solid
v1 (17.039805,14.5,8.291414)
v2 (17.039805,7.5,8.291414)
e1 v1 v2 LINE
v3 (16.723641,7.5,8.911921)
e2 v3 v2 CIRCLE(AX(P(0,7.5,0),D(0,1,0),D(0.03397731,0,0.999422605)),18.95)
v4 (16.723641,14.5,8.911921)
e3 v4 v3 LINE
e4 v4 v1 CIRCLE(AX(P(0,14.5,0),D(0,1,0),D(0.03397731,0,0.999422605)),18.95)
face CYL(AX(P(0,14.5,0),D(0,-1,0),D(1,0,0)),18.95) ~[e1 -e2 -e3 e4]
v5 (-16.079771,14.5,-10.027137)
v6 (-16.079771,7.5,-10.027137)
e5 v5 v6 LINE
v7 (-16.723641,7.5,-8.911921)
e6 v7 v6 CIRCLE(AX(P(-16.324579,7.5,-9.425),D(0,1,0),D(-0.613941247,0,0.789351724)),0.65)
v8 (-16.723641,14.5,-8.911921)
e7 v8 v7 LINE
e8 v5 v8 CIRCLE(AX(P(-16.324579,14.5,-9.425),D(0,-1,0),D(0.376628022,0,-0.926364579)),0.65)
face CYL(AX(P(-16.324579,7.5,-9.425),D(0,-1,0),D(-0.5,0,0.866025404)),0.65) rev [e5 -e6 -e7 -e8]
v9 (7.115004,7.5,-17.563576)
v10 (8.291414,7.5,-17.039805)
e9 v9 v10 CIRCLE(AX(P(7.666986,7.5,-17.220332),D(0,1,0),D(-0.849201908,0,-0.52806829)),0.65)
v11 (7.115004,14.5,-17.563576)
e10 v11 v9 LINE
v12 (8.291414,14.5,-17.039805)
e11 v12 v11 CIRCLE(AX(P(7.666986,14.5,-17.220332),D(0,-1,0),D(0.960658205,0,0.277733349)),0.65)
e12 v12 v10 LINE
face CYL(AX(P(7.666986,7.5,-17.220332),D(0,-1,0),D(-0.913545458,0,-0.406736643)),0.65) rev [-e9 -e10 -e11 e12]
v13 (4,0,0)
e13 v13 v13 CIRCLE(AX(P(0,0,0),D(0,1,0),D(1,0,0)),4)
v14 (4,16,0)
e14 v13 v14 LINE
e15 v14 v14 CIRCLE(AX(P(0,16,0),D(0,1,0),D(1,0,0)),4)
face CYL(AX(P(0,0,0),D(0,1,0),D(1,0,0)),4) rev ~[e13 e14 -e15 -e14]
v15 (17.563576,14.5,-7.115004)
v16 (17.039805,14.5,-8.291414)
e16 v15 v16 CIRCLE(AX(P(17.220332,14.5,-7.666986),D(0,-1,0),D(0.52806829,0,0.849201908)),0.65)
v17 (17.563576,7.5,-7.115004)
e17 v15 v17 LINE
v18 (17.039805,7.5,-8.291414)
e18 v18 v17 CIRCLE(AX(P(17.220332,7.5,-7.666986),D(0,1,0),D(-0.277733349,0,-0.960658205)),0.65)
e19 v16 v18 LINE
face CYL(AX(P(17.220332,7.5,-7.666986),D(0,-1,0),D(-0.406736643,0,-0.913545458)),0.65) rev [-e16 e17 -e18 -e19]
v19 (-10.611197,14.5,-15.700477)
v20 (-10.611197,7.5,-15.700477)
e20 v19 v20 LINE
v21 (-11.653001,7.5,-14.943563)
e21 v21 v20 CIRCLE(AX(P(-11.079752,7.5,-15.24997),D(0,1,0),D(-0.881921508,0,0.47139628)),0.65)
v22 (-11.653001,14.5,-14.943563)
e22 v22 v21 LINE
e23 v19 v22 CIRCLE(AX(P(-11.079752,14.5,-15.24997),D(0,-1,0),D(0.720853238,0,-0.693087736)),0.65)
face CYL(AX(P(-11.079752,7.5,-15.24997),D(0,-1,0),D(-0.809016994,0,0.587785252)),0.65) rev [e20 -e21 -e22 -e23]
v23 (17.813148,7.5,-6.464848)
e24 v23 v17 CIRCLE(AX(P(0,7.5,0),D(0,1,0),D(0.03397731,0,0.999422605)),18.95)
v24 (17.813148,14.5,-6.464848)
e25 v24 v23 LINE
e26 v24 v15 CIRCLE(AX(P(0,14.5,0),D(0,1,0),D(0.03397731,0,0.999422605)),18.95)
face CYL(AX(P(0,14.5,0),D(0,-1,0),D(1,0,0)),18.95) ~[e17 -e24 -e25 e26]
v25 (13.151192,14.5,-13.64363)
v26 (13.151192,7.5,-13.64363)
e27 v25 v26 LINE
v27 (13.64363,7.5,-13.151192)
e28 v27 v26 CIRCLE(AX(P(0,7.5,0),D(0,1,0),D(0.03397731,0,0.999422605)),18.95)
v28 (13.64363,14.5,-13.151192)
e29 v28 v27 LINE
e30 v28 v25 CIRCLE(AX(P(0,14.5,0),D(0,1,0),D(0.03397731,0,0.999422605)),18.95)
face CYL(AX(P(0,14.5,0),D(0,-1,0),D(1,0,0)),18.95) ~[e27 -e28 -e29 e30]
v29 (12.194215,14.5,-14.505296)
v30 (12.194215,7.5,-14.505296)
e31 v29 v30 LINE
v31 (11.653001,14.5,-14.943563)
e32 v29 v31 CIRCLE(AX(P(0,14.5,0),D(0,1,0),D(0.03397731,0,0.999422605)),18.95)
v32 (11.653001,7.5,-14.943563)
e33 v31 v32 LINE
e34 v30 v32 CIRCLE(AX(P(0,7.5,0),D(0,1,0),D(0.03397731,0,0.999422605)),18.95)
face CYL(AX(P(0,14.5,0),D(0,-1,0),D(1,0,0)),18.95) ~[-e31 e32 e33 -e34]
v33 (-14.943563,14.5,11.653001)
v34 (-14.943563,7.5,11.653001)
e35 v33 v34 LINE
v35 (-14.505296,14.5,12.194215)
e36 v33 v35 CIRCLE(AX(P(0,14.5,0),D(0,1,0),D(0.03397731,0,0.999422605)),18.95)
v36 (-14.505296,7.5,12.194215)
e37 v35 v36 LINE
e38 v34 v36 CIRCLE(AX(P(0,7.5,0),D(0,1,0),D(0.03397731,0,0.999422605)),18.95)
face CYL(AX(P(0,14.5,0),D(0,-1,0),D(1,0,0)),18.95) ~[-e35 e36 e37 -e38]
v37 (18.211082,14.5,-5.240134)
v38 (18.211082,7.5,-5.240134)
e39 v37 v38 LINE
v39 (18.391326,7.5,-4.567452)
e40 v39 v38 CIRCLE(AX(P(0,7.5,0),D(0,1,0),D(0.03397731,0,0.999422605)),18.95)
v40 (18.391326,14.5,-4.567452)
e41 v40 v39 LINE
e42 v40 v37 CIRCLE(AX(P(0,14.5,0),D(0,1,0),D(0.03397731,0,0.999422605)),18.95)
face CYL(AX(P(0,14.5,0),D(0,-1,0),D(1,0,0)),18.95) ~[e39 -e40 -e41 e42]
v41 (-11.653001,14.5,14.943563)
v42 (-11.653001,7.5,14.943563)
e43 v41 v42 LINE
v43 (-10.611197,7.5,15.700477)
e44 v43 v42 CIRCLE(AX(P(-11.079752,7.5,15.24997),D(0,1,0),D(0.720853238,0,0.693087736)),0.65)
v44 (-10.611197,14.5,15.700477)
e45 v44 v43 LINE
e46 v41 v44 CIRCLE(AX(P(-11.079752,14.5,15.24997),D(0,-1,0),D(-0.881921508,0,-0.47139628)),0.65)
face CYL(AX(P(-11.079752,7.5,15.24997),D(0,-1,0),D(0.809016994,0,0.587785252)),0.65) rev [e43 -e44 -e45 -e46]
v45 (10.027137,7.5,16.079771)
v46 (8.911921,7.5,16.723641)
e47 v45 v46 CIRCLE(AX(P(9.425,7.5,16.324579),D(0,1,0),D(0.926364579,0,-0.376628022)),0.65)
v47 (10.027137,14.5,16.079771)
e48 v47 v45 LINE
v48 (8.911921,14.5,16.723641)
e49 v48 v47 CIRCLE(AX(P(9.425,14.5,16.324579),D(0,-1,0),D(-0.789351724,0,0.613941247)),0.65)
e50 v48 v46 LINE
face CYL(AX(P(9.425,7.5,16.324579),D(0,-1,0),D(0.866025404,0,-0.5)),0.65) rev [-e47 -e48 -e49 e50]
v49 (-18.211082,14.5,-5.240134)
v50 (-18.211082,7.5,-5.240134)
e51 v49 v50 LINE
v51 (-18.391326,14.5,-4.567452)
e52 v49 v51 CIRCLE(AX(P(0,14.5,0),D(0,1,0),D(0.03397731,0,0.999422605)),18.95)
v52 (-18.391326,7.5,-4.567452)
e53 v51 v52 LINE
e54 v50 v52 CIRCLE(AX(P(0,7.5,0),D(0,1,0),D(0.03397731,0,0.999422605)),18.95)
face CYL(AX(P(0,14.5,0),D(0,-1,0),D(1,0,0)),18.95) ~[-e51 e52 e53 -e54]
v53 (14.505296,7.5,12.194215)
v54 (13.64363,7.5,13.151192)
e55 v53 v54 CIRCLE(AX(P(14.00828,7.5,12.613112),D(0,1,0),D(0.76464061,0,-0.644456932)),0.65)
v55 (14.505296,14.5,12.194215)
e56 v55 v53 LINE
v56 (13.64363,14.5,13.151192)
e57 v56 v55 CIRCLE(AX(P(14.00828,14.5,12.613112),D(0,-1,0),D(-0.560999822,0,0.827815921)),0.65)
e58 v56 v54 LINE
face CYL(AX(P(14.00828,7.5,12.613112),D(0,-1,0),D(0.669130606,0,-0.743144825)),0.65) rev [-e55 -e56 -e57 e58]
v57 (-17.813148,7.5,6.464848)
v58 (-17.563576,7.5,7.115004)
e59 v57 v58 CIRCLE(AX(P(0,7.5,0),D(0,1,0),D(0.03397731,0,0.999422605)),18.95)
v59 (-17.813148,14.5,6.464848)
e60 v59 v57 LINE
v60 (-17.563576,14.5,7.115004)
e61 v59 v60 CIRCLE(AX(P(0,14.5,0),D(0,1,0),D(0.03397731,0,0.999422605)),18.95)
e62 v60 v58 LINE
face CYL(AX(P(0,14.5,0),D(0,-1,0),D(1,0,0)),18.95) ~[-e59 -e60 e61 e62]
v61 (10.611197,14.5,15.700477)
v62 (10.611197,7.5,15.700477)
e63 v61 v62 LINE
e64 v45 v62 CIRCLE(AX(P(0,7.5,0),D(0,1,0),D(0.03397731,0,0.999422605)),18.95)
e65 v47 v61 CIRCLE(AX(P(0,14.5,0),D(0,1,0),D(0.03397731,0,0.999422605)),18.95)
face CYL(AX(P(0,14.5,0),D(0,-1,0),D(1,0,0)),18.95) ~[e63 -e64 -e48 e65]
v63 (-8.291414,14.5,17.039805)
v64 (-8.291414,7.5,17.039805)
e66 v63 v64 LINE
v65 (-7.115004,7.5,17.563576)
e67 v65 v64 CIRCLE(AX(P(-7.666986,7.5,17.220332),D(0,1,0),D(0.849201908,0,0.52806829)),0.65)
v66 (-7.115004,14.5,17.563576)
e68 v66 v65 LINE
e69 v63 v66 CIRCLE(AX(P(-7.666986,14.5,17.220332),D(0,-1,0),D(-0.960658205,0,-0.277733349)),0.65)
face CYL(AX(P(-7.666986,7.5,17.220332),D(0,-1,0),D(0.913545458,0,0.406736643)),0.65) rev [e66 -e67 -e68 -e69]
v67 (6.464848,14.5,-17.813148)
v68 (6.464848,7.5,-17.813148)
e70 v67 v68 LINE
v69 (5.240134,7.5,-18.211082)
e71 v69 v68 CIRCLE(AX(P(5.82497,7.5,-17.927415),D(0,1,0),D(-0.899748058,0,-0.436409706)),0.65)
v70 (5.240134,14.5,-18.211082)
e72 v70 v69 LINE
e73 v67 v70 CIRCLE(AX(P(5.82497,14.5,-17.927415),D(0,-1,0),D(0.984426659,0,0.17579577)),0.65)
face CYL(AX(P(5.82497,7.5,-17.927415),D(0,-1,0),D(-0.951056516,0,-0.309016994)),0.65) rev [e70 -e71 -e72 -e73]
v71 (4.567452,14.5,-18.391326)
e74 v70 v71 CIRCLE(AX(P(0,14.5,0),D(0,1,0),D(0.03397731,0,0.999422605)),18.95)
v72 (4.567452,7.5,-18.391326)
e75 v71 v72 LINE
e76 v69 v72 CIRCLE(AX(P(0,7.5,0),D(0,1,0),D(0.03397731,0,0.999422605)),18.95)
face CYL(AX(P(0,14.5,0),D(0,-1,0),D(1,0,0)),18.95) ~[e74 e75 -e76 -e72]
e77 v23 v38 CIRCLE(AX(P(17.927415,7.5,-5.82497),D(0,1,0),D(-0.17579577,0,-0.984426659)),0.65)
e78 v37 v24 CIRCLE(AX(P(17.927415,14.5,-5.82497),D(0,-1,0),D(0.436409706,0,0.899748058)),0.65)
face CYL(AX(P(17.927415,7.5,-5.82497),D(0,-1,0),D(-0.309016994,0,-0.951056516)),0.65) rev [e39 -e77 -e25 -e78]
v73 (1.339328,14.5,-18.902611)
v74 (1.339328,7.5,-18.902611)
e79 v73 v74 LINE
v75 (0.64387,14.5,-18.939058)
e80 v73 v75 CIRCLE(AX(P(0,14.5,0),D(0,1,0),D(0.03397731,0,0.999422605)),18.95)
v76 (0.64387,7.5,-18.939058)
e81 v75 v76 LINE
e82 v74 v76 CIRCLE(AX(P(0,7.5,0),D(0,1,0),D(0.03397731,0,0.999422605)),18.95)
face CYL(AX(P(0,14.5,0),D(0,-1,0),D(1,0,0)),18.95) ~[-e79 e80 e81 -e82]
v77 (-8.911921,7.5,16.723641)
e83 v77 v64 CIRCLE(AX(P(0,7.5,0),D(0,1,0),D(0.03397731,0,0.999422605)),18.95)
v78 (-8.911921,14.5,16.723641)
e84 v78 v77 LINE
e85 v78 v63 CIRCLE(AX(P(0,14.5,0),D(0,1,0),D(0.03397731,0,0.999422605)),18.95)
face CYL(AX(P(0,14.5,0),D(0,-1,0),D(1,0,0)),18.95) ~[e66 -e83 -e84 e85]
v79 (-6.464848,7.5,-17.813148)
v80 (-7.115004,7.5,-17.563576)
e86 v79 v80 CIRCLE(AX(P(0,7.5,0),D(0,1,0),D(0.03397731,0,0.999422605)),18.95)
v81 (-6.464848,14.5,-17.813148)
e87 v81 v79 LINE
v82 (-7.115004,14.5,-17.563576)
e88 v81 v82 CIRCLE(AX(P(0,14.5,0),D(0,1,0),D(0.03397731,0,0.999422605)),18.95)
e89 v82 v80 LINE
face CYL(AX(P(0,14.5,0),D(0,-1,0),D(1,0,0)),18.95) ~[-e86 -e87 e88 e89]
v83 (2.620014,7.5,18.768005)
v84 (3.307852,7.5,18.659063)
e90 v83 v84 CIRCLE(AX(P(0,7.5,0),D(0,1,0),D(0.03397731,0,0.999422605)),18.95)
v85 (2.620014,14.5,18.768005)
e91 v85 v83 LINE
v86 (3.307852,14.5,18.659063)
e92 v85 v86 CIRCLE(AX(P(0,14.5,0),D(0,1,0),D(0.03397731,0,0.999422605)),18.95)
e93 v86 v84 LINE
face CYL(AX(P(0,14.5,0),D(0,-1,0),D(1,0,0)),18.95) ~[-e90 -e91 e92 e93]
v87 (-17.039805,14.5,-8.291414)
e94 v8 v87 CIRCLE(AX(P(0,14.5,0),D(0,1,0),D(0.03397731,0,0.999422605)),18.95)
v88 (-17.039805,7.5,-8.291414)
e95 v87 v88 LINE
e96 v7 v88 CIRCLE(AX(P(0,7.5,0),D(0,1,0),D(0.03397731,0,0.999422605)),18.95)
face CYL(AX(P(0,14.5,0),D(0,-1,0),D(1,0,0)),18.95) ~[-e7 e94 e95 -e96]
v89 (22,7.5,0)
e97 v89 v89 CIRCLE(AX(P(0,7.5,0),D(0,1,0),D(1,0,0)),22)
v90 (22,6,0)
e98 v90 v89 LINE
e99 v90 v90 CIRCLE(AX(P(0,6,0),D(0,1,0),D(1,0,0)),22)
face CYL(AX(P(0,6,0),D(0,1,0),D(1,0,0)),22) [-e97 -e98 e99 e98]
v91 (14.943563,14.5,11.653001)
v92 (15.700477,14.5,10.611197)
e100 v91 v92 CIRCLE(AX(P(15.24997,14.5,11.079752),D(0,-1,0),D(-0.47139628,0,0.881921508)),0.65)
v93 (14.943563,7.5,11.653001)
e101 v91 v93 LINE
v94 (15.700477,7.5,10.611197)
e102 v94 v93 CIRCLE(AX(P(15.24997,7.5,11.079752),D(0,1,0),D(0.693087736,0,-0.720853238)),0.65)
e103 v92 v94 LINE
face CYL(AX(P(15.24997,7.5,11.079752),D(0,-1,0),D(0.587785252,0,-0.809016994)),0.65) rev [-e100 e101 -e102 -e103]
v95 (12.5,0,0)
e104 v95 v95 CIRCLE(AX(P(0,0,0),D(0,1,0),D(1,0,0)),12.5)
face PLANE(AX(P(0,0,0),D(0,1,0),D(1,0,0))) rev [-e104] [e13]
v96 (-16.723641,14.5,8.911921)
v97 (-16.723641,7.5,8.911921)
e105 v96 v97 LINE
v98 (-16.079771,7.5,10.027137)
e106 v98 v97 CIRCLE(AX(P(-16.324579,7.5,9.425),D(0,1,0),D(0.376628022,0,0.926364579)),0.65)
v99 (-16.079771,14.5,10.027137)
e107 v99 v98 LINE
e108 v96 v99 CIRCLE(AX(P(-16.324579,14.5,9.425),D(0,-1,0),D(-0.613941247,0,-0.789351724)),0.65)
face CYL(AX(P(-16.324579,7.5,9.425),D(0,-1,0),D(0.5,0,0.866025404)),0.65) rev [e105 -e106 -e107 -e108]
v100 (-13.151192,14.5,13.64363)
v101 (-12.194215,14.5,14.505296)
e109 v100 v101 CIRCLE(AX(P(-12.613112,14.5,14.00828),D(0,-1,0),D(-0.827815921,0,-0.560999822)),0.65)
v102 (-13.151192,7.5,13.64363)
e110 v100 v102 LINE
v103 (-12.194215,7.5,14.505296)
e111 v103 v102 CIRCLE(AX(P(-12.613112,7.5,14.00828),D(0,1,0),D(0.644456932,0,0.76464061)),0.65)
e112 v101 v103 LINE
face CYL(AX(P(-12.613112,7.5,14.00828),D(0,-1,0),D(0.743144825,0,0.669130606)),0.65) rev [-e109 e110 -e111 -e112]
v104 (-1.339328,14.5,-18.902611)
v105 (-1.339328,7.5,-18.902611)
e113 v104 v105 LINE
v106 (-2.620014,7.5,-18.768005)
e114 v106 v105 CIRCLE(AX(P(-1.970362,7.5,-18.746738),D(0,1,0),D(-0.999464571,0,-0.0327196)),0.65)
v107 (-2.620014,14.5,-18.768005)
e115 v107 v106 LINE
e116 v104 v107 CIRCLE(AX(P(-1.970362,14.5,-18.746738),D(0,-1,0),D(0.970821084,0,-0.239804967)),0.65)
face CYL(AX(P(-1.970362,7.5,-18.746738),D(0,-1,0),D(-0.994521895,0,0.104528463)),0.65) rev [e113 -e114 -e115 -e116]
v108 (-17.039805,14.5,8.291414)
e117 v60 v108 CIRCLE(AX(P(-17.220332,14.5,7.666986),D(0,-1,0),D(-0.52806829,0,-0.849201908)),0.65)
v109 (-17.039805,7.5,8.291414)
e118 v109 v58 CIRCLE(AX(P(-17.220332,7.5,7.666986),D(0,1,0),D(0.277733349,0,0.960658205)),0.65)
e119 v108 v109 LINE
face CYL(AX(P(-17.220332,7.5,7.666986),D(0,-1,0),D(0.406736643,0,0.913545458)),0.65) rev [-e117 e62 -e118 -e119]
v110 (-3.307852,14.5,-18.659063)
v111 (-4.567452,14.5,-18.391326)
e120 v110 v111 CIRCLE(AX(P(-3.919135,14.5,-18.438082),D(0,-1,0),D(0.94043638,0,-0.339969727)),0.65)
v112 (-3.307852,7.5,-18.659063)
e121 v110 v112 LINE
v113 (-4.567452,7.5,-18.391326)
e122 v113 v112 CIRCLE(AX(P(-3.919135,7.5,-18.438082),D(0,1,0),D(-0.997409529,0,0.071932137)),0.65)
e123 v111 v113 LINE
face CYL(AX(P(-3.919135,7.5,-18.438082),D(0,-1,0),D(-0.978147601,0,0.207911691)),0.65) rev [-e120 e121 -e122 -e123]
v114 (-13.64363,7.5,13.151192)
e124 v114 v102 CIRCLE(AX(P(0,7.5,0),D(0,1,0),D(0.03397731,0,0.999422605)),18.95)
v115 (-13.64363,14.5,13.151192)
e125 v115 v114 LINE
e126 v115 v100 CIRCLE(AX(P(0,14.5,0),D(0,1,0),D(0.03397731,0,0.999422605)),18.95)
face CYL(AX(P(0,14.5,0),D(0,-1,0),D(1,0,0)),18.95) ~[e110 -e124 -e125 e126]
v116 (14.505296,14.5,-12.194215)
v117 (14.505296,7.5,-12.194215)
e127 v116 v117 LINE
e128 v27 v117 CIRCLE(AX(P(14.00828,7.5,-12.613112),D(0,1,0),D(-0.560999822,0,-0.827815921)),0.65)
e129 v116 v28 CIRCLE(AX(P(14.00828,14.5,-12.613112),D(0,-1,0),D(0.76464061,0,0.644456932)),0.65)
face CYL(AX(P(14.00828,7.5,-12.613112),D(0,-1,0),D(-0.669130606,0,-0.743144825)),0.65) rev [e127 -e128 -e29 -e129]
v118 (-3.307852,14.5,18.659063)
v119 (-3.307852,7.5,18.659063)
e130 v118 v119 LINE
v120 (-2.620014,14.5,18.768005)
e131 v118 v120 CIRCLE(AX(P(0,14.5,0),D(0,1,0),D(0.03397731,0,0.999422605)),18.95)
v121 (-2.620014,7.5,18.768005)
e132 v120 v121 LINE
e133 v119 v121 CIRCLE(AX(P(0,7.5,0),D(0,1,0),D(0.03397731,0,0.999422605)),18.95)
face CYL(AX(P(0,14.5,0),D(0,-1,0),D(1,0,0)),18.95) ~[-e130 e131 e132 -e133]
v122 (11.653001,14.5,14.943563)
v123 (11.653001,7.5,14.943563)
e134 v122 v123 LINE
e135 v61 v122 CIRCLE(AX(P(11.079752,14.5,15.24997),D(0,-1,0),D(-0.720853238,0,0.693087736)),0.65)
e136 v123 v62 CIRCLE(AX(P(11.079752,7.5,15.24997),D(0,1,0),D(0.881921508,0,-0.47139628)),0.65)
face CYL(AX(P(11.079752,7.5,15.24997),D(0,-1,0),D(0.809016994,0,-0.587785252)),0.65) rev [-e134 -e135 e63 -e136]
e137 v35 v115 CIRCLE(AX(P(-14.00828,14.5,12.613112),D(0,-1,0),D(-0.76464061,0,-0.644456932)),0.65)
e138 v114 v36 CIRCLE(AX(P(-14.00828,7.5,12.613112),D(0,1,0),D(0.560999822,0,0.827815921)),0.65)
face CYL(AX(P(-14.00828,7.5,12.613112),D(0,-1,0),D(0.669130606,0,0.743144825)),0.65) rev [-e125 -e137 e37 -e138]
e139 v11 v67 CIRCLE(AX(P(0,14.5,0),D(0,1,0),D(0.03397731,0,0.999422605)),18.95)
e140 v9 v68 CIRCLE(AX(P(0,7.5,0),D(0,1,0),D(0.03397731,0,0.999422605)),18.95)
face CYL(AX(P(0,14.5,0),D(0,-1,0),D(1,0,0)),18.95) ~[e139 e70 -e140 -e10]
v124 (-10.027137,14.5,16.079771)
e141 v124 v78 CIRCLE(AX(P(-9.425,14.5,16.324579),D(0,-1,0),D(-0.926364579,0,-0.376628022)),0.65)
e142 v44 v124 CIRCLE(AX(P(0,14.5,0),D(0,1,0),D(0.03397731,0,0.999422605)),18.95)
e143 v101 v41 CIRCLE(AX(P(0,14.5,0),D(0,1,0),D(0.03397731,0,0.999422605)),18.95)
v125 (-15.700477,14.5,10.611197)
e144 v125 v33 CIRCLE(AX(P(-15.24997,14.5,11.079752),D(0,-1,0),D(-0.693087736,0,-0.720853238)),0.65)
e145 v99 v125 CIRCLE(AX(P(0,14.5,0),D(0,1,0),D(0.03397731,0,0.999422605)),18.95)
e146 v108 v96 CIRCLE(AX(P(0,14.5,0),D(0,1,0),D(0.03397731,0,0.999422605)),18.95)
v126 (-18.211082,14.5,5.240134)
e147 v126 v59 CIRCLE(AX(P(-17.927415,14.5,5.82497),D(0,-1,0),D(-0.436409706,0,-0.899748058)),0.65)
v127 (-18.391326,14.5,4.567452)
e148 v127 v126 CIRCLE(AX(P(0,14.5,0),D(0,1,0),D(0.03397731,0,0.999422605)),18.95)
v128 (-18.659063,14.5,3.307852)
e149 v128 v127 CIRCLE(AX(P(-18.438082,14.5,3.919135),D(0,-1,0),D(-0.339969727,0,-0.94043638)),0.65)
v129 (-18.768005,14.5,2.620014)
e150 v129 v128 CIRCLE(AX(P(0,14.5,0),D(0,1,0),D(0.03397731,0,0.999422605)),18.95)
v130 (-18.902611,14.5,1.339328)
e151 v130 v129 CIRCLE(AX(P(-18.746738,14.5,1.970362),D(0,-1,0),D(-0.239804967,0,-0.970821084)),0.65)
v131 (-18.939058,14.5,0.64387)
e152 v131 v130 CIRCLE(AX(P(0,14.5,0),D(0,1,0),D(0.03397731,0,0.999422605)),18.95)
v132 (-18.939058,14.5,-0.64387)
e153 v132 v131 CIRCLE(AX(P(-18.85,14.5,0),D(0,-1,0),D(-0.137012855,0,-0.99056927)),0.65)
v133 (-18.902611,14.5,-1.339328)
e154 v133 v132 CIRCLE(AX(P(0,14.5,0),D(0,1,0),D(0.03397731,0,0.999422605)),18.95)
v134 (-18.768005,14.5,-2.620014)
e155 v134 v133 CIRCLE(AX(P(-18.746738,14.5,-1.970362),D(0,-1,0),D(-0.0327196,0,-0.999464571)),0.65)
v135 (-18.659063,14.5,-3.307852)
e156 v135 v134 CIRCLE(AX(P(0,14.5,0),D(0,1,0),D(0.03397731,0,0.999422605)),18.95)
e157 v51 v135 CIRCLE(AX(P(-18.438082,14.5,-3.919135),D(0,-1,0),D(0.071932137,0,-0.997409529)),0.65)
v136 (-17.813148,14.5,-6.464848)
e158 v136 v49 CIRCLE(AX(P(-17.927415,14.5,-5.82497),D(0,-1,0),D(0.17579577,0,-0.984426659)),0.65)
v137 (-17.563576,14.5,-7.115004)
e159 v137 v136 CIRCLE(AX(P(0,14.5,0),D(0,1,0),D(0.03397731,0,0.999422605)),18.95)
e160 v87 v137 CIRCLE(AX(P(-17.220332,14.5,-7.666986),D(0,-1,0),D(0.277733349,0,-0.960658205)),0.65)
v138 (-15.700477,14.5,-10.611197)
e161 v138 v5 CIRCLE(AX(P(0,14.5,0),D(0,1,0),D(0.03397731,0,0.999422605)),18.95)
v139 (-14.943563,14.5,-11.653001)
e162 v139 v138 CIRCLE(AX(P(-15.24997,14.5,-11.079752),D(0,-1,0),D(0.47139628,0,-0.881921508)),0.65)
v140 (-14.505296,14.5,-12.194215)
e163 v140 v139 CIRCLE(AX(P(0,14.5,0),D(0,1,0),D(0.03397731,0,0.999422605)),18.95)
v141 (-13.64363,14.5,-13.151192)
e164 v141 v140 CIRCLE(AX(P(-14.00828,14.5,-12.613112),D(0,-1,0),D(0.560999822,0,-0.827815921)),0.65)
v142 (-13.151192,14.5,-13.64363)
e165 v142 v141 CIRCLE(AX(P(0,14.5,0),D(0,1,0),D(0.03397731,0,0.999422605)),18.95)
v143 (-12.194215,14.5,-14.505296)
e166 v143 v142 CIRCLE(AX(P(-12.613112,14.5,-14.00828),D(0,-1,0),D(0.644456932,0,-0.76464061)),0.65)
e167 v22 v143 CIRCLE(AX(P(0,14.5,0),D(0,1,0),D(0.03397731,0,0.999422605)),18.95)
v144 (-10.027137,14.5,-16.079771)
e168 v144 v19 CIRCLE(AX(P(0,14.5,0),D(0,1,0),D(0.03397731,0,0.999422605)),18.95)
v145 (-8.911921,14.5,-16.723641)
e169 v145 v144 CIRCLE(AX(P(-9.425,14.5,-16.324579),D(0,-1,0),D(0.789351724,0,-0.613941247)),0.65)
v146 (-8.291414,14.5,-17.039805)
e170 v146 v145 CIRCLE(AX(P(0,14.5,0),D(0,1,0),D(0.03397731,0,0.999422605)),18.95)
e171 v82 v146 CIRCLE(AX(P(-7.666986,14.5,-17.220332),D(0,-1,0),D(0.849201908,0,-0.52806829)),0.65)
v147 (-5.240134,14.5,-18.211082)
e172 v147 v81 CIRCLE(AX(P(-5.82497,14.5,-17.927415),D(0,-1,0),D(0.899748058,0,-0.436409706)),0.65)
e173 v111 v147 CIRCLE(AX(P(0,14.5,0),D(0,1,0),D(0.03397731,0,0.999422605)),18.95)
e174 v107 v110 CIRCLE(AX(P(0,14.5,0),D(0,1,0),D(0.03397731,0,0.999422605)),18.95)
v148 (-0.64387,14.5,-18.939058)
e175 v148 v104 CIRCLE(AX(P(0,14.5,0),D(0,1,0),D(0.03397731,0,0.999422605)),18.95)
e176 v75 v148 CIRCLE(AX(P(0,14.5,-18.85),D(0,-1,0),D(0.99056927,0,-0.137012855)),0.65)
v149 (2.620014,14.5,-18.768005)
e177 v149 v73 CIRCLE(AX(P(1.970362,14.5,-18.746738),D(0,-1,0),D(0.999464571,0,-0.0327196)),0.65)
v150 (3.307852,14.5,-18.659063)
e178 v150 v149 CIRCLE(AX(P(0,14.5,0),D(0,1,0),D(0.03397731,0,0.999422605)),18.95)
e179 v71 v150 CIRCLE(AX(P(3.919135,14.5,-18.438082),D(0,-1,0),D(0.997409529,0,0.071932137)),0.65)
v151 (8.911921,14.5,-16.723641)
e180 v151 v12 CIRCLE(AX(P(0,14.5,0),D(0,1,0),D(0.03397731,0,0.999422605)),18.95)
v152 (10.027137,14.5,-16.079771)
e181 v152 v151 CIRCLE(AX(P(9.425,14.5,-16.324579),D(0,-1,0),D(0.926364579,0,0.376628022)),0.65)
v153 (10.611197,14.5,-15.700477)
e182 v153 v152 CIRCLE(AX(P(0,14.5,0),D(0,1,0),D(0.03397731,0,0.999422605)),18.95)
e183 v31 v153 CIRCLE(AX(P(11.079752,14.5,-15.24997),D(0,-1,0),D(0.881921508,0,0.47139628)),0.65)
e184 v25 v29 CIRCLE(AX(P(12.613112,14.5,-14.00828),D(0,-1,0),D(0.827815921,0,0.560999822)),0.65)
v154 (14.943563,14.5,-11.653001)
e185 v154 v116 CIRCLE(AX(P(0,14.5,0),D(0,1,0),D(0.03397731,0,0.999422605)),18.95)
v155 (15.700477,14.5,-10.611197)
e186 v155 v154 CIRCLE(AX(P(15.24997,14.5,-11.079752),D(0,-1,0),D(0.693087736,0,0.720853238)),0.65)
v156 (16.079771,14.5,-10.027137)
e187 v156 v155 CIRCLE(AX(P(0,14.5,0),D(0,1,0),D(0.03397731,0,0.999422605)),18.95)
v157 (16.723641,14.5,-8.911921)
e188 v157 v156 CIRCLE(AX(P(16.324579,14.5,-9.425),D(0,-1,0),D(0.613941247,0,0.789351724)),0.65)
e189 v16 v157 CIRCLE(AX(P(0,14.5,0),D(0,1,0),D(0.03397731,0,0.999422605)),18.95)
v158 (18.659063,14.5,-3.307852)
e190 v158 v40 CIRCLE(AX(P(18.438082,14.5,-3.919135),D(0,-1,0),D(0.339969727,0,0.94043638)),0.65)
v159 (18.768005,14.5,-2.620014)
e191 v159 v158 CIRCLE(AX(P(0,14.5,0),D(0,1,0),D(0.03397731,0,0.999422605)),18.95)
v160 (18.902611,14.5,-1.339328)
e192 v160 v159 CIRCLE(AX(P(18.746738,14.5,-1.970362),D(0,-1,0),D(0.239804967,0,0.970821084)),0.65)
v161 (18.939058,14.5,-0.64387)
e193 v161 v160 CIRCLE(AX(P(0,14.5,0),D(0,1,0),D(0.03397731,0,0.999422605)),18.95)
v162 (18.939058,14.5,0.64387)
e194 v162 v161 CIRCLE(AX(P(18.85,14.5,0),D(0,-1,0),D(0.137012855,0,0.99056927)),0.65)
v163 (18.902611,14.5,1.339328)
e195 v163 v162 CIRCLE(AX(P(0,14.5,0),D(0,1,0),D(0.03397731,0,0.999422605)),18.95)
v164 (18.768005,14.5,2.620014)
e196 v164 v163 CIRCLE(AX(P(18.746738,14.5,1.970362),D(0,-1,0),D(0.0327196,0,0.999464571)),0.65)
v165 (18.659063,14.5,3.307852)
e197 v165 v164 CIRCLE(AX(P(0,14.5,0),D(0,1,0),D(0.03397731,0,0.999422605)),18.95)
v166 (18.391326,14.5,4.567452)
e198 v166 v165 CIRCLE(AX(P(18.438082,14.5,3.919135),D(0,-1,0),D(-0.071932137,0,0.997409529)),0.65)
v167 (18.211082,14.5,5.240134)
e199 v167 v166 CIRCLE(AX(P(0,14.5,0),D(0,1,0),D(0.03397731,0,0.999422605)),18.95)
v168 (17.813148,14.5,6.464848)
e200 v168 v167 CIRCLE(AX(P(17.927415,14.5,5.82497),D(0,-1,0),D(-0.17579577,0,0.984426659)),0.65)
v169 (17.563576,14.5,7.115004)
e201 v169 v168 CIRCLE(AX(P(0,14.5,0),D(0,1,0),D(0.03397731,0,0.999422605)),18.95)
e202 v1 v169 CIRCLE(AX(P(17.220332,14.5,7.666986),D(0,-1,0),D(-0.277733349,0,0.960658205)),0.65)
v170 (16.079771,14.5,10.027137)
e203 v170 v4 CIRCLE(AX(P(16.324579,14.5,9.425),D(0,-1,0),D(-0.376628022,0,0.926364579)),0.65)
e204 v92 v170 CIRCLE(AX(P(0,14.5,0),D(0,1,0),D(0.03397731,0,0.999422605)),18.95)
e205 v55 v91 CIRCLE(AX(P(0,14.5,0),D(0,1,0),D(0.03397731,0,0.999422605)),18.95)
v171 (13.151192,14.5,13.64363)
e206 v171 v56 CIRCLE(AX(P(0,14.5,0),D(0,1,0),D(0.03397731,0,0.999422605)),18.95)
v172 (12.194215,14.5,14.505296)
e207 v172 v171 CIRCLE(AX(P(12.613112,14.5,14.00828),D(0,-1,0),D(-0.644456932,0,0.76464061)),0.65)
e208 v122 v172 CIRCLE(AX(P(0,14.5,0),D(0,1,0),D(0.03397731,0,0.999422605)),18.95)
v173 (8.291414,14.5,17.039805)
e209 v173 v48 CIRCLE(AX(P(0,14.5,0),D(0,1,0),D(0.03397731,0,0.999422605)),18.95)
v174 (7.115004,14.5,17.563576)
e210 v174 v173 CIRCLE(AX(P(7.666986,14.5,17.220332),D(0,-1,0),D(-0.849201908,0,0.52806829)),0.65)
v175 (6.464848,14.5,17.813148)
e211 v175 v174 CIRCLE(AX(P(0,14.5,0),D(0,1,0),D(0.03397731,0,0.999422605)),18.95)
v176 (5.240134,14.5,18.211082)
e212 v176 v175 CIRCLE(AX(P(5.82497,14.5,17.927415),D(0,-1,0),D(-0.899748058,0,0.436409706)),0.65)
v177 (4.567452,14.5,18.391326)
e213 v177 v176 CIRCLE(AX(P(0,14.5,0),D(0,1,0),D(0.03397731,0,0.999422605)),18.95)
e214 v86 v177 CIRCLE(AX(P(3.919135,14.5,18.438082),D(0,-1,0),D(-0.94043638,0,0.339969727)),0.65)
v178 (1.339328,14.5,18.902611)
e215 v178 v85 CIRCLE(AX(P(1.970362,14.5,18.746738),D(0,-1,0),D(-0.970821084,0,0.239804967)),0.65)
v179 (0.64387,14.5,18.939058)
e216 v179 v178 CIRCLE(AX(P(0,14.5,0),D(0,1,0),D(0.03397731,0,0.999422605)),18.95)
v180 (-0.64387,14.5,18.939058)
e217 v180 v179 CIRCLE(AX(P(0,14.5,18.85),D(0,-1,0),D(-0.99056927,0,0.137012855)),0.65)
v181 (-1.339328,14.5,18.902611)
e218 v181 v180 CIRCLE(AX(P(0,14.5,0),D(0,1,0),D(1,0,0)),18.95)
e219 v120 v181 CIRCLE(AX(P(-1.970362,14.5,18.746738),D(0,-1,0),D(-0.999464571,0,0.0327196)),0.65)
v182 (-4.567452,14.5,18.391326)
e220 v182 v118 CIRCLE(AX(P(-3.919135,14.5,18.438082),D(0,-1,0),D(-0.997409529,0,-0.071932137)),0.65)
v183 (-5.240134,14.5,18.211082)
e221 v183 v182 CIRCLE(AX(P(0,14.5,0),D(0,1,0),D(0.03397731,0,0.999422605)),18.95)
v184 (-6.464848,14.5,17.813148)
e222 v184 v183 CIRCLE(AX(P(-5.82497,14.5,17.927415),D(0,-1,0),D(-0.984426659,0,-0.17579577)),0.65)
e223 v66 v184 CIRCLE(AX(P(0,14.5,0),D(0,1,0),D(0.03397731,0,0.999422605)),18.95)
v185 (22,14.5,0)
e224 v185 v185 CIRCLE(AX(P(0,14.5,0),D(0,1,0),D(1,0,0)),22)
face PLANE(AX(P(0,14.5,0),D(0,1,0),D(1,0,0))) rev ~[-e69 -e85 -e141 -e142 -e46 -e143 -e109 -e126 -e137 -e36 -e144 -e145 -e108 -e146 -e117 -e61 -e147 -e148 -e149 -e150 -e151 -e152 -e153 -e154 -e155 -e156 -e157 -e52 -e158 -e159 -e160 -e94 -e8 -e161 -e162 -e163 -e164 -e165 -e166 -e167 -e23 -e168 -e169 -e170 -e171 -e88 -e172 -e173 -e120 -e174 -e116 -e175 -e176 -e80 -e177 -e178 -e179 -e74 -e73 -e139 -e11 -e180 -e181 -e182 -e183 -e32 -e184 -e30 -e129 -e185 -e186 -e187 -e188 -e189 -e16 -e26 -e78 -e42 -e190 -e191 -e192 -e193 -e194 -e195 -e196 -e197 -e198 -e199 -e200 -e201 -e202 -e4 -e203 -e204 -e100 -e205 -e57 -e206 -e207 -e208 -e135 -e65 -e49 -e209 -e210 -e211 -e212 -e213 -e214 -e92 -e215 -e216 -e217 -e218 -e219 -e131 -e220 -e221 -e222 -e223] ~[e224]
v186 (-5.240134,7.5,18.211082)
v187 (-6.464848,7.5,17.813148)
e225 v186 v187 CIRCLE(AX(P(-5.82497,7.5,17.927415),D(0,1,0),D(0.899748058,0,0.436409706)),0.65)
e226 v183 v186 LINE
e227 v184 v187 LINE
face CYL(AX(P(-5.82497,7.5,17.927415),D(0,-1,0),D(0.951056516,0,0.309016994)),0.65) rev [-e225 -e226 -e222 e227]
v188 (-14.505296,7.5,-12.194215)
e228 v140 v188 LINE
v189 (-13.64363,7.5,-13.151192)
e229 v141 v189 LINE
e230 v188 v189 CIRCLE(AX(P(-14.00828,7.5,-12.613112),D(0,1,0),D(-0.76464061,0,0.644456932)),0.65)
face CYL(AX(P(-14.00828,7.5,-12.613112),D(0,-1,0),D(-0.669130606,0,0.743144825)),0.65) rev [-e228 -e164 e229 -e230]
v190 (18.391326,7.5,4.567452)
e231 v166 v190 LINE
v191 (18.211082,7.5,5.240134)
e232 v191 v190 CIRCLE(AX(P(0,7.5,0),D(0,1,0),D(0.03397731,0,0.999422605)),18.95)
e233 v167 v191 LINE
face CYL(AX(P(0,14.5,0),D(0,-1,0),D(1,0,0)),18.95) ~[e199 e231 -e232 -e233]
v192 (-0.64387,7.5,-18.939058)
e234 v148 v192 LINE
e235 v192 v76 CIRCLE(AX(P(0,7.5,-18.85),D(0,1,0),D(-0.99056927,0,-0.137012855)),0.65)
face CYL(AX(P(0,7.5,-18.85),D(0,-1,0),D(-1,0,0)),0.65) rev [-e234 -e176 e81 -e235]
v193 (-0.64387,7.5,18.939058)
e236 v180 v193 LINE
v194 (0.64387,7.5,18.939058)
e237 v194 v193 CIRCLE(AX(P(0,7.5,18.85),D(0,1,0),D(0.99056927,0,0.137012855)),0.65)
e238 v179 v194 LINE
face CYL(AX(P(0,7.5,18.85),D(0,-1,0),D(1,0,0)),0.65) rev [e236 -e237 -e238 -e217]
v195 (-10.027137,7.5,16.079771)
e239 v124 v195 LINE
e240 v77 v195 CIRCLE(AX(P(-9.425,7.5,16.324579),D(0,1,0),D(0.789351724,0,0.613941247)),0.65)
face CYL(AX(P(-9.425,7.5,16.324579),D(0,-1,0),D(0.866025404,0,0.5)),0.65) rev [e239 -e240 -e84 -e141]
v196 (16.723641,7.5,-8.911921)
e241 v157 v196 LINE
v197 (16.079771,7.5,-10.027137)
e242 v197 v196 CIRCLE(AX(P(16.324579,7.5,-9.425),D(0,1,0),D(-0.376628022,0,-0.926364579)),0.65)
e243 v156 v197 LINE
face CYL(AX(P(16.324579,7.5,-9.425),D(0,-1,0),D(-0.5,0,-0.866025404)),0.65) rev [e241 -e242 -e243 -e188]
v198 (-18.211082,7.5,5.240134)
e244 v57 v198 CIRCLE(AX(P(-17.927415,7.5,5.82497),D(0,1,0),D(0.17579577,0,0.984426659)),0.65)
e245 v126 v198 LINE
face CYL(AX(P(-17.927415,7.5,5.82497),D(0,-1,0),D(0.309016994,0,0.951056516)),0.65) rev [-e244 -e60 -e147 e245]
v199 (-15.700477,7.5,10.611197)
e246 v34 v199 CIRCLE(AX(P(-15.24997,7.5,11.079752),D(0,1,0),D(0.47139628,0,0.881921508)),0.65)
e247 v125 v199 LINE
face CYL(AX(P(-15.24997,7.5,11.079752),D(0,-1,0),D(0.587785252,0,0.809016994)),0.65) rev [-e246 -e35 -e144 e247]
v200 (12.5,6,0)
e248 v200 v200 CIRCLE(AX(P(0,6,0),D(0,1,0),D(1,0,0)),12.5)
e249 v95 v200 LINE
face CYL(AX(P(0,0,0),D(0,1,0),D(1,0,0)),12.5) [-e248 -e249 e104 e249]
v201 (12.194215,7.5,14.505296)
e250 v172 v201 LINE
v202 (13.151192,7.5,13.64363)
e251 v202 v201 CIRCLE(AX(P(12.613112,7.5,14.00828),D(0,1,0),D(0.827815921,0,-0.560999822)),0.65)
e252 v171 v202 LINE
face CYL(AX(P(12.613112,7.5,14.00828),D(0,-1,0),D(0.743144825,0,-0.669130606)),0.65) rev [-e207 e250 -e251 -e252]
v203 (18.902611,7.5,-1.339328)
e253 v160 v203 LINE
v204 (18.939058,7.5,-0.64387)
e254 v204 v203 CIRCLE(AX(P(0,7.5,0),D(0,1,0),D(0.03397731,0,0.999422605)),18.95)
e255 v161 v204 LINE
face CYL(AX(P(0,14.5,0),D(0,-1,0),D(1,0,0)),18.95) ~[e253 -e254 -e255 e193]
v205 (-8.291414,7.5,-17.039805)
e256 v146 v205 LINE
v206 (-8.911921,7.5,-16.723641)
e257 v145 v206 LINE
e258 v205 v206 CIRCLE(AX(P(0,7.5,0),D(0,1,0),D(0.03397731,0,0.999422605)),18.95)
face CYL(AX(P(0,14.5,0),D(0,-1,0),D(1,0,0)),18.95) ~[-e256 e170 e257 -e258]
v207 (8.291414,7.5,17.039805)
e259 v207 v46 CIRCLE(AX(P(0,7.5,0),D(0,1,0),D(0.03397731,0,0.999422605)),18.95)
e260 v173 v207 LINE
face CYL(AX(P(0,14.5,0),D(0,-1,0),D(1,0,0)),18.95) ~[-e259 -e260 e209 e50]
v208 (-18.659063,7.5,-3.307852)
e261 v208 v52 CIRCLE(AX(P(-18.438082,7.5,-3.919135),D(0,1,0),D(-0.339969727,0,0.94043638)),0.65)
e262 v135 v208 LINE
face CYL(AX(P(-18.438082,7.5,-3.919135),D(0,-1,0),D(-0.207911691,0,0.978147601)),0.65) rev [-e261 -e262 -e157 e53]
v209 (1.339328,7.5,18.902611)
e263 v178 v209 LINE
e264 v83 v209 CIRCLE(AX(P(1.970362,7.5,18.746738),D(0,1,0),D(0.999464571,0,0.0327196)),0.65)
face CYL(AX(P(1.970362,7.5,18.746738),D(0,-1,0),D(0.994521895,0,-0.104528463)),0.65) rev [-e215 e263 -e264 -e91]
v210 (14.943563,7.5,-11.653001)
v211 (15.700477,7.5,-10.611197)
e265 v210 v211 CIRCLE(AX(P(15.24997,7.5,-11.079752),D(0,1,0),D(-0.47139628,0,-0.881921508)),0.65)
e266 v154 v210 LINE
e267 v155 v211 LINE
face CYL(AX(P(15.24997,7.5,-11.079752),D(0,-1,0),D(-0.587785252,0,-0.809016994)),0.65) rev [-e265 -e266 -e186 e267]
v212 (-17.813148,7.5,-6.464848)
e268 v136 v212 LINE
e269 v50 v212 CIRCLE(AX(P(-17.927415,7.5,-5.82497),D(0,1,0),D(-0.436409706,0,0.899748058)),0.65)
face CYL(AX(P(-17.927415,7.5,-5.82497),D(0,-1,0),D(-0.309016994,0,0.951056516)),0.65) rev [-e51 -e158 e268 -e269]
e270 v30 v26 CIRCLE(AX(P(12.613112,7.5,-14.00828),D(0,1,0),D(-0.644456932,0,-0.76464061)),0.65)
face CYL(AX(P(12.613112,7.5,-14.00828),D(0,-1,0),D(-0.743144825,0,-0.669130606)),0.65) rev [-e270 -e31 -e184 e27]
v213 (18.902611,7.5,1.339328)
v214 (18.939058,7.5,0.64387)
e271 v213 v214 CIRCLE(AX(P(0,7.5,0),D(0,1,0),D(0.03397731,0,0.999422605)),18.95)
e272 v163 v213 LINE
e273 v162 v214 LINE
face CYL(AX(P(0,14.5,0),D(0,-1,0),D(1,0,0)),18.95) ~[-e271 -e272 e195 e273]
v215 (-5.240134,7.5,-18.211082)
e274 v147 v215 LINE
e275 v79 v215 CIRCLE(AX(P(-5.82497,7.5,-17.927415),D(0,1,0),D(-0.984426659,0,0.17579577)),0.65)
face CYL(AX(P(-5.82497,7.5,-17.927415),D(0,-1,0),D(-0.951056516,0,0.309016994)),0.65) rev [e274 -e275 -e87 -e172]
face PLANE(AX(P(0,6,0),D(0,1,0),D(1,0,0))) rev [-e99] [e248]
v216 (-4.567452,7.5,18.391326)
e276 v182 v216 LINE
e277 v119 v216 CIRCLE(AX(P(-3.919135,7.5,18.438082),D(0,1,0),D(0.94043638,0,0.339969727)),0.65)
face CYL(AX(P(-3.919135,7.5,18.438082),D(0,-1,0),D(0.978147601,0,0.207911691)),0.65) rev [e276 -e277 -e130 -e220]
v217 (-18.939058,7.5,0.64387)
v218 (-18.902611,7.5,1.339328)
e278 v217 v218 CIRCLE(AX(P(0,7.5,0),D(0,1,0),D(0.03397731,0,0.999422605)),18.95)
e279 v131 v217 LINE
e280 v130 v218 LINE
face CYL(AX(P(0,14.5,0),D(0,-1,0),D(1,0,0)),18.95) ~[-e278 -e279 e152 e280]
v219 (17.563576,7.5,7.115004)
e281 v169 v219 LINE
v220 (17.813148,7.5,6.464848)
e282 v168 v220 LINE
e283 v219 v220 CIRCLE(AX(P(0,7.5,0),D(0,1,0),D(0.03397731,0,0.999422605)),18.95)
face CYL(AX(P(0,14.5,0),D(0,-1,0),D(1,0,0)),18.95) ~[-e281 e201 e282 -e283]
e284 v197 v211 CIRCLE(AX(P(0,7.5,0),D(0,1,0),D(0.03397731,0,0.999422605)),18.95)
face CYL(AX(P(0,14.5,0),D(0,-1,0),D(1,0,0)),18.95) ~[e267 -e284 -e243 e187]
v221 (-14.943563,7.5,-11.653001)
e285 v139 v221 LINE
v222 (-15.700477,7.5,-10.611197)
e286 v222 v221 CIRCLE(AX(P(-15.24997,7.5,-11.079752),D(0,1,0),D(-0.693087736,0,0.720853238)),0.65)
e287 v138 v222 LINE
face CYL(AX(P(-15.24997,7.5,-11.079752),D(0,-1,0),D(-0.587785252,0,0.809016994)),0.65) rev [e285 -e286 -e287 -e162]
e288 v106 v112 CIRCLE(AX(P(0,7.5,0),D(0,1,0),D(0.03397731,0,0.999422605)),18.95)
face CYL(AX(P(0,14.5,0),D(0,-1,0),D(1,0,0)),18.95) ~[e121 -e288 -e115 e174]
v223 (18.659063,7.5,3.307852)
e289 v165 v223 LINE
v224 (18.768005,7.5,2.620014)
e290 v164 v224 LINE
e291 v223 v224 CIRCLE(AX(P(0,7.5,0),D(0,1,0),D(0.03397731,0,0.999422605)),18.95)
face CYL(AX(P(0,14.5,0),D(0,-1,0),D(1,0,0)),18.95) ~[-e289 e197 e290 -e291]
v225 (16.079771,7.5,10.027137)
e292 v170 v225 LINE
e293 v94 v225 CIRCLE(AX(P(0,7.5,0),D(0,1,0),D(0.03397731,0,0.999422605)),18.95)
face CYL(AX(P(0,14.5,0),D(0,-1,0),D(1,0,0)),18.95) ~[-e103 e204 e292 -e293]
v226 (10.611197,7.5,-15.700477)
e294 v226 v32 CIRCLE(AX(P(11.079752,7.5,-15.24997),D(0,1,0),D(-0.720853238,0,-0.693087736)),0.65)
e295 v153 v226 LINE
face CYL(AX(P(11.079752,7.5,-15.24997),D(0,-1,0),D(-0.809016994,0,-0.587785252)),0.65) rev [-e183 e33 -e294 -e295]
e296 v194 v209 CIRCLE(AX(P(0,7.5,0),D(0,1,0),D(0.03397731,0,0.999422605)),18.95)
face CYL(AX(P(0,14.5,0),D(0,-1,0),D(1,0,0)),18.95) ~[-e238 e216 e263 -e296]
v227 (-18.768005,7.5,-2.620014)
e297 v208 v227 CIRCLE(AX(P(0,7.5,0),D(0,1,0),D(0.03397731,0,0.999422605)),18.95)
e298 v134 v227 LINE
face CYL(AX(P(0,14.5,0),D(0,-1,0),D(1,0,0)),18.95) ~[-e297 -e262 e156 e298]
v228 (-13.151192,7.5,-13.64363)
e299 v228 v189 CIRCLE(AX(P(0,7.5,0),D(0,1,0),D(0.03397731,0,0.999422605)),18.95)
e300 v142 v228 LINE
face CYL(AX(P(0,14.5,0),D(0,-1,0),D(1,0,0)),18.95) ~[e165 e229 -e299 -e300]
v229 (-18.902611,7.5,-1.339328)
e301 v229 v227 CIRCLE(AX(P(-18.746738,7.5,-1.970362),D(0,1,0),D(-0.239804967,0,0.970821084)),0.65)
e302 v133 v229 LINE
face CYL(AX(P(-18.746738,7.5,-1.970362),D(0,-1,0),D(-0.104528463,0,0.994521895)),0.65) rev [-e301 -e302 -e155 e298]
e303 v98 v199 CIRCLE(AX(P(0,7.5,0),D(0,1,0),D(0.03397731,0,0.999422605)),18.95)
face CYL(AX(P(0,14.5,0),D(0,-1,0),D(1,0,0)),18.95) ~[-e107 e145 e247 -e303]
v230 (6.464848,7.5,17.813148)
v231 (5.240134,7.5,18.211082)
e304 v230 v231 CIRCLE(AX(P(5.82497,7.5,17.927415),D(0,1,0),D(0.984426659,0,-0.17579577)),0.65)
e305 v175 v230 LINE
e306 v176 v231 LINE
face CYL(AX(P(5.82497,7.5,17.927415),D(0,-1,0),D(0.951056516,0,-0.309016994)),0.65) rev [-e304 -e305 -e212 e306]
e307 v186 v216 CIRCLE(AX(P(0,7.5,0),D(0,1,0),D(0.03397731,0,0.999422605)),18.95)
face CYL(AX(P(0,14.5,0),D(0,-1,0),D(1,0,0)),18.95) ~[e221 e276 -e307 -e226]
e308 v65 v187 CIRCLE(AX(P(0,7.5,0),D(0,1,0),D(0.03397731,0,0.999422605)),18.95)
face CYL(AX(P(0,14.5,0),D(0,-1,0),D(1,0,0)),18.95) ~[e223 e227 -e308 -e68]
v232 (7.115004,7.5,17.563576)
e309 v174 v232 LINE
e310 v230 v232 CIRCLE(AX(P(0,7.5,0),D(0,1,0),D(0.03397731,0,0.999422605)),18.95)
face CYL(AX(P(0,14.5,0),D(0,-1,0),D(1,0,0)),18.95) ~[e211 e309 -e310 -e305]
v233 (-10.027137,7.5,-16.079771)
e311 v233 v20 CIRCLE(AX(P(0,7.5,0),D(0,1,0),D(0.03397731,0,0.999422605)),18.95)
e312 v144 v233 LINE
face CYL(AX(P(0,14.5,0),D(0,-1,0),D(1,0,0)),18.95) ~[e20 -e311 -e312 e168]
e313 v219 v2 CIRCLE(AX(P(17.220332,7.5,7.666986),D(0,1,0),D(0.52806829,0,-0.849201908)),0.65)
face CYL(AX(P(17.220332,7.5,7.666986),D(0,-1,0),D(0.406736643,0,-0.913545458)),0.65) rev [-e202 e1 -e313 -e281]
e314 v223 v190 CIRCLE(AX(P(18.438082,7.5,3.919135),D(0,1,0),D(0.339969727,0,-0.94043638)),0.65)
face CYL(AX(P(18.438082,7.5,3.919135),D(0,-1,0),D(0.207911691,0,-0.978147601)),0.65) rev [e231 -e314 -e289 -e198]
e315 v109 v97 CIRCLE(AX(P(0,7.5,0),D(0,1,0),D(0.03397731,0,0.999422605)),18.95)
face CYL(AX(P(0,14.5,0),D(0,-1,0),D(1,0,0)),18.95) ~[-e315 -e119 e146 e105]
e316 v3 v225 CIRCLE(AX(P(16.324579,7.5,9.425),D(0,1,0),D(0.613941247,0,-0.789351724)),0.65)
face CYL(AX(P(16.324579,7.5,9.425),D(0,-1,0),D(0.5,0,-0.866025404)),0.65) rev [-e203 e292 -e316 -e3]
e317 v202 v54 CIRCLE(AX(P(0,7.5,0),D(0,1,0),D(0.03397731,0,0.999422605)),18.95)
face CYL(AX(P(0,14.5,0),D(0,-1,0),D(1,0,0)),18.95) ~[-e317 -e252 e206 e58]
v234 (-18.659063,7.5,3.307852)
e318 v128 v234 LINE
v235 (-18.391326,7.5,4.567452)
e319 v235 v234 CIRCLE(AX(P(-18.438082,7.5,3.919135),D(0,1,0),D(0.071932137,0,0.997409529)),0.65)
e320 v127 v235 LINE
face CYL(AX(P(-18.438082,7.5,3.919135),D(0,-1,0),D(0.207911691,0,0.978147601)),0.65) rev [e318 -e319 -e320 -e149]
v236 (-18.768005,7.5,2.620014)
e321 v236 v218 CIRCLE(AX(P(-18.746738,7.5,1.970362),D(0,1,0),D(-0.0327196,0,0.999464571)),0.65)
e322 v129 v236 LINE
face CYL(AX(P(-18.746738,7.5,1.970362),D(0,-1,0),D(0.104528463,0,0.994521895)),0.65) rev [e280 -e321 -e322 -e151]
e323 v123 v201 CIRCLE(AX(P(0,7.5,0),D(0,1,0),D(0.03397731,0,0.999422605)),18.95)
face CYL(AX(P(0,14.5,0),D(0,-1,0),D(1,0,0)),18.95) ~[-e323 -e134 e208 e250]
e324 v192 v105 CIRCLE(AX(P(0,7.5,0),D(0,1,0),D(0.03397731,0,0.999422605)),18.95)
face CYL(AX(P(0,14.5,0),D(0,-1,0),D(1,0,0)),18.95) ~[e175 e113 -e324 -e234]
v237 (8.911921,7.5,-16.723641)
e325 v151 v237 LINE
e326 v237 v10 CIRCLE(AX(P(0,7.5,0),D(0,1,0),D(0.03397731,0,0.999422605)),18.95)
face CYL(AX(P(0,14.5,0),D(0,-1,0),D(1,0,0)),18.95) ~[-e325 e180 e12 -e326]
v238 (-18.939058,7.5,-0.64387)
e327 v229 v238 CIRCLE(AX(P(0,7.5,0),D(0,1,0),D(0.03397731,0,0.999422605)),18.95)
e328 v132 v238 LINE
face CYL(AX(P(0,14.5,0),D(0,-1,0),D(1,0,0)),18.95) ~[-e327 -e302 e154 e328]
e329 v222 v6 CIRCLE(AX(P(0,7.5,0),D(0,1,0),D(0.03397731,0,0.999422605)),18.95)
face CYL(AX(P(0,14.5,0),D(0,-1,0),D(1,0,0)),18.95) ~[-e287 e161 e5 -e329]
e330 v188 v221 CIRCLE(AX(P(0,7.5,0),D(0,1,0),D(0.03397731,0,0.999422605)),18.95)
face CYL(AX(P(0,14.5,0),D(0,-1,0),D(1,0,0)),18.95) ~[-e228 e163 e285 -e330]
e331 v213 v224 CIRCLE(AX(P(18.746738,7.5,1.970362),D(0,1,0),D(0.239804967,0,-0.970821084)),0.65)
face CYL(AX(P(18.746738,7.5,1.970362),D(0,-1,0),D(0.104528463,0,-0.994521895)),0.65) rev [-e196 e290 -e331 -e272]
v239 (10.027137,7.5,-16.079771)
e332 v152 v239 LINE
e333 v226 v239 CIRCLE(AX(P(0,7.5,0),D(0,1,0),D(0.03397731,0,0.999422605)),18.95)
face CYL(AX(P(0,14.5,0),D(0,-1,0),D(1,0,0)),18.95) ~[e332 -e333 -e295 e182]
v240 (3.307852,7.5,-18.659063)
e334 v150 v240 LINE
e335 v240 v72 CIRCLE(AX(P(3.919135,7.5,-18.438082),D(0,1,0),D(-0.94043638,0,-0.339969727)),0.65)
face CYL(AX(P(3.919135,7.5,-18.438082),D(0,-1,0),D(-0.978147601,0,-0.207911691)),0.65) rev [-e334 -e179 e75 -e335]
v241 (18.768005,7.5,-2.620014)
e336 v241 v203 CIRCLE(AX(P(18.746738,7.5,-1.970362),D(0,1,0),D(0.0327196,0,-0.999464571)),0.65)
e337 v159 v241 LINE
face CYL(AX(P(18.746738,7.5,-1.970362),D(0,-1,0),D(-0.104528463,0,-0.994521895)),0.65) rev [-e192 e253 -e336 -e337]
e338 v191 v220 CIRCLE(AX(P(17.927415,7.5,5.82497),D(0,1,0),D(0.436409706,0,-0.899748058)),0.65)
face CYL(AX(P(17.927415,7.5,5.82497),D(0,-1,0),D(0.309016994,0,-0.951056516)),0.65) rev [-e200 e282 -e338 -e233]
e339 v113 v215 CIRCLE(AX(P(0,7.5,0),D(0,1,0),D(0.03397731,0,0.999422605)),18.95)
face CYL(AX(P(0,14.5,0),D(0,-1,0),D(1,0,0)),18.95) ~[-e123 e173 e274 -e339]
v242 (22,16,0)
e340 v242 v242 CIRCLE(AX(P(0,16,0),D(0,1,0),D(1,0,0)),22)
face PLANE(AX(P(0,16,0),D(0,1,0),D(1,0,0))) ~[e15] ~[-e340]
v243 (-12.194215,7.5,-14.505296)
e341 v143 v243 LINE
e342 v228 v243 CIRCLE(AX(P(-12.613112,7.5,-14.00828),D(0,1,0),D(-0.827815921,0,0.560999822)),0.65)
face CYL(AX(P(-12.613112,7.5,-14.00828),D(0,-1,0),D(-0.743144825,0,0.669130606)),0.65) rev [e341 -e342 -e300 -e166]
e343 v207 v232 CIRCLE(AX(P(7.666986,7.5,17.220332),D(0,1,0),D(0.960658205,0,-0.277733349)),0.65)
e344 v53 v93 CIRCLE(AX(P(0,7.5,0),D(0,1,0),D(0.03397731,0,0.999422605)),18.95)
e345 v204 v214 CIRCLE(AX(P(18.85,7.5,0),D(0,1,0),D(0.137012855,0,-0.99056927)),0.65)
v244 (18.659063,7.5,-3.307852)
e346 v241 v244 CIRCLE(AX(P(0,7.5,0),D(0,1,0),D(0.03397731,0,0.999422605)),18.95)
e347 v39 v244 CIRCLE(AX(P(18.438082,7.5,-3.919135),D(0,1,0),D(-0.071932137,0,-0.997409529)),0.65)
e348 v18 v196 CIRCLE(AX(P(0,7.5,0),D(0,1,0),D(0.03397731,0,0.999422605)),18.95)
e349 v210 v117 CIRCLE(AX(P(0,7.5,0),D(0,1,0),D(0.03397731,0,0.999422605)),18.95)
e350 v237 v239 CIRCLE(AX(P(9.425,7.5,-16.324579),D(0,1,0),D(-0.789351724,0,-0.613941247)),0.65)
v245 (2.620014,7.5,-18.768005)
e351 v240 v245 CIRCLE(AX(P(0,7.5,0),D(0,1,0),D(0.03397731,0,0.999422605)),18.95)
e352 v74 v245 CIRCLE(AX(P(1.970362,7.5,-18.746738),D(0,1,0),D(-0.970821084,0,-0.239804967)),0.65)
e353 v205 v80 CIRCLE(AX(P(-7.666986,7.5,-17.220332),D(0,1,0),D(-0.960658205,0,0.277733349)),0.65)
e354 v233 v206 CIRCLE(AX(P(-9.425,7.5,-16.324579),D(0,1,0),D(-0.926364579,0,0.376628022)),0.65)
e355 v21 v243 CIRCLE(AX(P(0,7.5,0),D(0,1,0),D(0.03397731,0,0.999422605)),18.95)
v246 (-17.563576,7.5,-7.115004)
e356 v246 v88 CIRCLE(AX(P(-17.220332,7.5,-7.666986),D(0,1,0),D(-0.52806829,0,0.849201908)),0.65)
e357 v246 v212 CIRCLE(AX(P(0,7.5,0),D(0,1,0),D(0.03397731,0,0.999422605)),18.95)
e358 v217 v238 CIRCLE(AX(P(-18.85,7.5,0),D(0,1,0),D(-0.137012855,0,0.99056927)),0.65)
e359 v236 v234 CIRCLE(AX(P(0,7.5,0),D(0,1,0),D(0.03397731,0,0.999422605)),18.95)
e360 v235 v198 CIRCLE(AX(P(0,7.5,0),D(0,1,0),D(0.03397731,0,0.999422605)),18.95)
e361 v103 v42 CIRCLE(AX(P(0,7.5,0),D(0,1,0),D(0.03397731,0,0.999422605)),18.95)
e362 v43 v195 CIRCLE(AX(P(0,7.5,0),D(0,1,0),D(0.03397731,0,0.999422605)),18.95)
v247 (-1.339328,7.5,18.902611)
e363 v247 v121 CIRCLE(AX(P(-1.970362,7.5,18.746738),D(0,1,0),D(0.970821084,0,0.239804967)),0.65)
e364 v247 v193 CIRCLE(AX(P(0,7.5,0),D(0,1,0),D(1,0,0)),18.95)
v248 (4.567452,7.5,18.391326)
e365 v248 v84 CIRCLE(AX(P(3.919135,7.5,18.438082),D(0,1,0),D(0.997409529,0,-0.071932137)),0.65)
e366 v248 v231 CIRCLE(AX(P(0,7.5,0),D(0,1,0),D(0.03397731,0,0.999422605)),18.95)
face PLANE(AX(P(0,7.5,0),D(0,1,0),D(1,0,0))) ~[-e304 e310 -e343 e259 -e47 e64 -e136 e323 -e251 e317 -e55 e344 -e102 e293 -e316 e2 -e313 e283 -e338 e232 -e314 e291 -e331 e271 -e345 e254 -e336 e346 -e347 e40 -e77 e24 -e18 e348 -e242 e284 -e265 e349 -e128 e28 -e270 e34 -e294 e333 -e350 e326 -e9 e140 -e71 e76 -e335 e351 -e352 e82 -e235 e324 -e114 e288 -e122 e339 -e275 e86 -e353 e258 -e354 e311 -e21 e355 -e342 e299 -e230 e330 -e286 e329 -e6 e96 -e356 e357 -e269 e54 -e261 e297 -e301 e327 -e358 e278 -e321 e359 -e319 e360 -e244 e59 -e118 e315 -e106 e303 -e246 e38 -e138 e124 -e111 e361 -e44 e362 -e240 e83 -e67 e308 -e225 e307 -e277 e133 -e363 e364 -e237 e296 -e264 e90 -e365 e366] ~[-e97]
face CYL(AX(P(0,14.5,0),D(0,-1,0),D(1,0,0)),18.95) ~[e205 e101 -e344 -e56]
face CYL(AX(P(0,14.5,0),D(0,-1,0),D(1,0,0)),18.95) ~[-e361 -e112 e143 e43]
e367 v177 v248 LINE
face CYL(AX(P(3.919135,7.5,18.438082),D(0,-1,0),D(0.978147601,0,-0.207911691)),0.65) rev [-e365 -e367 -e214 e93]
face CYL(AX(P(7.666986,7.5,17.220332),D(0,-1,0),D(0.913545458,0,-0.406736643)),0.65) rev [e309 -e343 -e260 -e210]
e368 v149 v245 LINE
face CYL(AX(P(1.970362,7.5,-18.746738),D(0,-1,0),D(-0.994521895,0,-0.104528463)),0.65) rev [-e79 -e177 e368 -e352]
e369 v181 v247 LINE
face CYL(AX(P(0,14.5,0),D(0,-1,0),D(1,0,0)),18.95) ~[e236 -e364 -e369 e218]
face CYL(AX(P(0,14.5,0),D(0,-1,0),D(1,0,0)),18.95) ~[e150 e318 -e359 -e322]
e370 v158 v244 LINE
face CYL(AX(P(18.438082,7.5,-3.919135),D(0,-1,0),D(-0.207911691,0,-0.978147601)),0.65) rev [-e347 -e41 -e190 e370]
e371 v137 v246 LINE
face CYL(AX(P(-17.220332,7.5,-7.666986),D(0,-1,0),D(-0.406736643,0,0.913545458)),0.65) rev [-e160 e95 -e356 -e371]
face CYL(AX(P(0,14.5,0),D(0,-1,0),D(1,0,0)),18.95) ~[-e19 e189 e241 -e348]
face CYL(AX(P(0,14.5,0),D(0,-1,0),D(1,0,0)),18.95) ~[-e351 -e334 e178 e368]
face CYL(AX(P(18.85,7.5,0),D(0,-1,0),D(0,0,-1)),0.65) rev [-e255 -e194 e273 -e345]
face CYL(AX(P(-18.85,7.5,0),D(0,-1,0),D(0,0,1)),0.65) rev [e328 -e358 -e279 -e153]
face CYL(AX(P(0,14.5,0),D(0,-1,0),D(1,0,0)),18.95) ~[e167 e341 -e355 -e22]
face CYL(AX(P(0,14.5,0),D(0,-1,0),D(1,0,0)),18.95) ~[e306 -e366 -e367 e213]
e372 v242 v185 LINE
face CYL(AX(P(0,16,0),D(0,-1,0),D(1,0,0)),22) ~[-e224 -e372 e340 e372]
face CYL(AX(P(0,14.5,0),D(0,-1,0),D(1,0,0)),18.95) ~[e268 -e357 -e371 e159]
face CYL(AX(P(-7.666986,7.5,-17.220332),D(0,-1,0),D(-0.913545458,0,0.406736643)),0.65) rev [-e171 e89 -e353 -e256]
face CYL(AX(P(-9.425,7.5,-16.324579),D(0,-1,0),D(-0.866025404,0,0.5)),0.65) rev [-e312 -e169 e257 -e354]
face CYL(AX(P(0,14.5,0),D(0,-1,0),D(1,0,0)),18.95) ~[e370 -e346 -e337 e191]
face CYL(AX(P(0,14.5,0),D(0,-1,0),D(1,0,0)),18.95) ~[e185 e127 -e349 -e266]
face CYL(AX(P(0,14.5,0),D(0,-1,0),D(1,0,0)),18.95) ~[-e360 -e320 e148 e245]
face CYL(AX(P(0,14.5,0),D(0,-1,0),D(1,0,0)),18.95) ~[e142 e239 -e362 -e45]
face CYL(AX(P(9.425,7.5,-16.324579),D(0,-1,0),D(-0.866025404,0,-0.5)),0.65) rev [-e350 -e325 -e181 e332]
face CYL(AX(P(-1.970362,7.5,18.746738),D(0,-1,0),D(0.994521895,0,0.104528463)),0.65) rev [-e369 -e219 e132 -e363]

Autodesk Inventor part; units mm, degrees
ref_plane "YZ Plane" through (0, 0, 0) normal (1, 0, 0) x (0, 1, 0)
ref_plane "XZ Plane" through (0, 0, 0) normal (0, 1, 0) x (-1, 0, 0)
ref_plane "XY Plane" through (0, 0, 0) normal (0, 0, 1) x (1, 0, 0)
sketch "Sketch1" plane through (0, 0, 0) normal (0, 0, 1) x (1, 0, 0)
  line L0 (0, 0) -> (0, 16) construction
  line L1 (0, 16) -> (4, 16) construction
  line L2 (4, 16) -> (22, 16)
  line L3 (22, 16) -> (22, 14.5)
  line L4 (22, 14.5) -> (18.95, 14.5)
  line L5 (18.95, 14.5) -> (18.95, 7.5)
  line L6 (18.95, 7.5) -> (22, 7.5)
  line L7 (4, 0) -> (4, 16)
  line L8 (4, 0) -> (12.5, 0)
  line L9 (12.5, 0) -> (12.5, 6)
  line L10 (12.5, 6) -> (22, 6)
  line L11 (22, 6) -> (22, 7.5)
  dimension "d0" = 4
  dimension "d1" = 7
  dimension "d4" = 1.5
  dimension "d6" = 18.95
  dimension "d15" = 22
  dimension "d16" = 6
  dimension "d17" = 12.5
revolve "Revolution1" add sketch "Sketch1" angle 360 about axis through (0, 0, 0) along (0, 1, 0)
sketch "Sketch2" plane through (0, 7.5, 0) normal (0, 1, 0) x (1, 0, 0)
  line L0 (0, 0) -> (0, -18.85)
  circle A0 centre (0, -18.85) radius 0.65
  dimension "d8" = 1.3
  dimension "d9" = 18.85
extrude "Extrusion1" cut sketch "Sketch2" along normal up to surface (7 mm away)
pattern_circular "Circular Pattern1" count 60 over 360 about axis through (0, 11, 0) along (0, -1, 0) of "Extrusion1"
properties part number "GT2 60T Drive Pulley"
